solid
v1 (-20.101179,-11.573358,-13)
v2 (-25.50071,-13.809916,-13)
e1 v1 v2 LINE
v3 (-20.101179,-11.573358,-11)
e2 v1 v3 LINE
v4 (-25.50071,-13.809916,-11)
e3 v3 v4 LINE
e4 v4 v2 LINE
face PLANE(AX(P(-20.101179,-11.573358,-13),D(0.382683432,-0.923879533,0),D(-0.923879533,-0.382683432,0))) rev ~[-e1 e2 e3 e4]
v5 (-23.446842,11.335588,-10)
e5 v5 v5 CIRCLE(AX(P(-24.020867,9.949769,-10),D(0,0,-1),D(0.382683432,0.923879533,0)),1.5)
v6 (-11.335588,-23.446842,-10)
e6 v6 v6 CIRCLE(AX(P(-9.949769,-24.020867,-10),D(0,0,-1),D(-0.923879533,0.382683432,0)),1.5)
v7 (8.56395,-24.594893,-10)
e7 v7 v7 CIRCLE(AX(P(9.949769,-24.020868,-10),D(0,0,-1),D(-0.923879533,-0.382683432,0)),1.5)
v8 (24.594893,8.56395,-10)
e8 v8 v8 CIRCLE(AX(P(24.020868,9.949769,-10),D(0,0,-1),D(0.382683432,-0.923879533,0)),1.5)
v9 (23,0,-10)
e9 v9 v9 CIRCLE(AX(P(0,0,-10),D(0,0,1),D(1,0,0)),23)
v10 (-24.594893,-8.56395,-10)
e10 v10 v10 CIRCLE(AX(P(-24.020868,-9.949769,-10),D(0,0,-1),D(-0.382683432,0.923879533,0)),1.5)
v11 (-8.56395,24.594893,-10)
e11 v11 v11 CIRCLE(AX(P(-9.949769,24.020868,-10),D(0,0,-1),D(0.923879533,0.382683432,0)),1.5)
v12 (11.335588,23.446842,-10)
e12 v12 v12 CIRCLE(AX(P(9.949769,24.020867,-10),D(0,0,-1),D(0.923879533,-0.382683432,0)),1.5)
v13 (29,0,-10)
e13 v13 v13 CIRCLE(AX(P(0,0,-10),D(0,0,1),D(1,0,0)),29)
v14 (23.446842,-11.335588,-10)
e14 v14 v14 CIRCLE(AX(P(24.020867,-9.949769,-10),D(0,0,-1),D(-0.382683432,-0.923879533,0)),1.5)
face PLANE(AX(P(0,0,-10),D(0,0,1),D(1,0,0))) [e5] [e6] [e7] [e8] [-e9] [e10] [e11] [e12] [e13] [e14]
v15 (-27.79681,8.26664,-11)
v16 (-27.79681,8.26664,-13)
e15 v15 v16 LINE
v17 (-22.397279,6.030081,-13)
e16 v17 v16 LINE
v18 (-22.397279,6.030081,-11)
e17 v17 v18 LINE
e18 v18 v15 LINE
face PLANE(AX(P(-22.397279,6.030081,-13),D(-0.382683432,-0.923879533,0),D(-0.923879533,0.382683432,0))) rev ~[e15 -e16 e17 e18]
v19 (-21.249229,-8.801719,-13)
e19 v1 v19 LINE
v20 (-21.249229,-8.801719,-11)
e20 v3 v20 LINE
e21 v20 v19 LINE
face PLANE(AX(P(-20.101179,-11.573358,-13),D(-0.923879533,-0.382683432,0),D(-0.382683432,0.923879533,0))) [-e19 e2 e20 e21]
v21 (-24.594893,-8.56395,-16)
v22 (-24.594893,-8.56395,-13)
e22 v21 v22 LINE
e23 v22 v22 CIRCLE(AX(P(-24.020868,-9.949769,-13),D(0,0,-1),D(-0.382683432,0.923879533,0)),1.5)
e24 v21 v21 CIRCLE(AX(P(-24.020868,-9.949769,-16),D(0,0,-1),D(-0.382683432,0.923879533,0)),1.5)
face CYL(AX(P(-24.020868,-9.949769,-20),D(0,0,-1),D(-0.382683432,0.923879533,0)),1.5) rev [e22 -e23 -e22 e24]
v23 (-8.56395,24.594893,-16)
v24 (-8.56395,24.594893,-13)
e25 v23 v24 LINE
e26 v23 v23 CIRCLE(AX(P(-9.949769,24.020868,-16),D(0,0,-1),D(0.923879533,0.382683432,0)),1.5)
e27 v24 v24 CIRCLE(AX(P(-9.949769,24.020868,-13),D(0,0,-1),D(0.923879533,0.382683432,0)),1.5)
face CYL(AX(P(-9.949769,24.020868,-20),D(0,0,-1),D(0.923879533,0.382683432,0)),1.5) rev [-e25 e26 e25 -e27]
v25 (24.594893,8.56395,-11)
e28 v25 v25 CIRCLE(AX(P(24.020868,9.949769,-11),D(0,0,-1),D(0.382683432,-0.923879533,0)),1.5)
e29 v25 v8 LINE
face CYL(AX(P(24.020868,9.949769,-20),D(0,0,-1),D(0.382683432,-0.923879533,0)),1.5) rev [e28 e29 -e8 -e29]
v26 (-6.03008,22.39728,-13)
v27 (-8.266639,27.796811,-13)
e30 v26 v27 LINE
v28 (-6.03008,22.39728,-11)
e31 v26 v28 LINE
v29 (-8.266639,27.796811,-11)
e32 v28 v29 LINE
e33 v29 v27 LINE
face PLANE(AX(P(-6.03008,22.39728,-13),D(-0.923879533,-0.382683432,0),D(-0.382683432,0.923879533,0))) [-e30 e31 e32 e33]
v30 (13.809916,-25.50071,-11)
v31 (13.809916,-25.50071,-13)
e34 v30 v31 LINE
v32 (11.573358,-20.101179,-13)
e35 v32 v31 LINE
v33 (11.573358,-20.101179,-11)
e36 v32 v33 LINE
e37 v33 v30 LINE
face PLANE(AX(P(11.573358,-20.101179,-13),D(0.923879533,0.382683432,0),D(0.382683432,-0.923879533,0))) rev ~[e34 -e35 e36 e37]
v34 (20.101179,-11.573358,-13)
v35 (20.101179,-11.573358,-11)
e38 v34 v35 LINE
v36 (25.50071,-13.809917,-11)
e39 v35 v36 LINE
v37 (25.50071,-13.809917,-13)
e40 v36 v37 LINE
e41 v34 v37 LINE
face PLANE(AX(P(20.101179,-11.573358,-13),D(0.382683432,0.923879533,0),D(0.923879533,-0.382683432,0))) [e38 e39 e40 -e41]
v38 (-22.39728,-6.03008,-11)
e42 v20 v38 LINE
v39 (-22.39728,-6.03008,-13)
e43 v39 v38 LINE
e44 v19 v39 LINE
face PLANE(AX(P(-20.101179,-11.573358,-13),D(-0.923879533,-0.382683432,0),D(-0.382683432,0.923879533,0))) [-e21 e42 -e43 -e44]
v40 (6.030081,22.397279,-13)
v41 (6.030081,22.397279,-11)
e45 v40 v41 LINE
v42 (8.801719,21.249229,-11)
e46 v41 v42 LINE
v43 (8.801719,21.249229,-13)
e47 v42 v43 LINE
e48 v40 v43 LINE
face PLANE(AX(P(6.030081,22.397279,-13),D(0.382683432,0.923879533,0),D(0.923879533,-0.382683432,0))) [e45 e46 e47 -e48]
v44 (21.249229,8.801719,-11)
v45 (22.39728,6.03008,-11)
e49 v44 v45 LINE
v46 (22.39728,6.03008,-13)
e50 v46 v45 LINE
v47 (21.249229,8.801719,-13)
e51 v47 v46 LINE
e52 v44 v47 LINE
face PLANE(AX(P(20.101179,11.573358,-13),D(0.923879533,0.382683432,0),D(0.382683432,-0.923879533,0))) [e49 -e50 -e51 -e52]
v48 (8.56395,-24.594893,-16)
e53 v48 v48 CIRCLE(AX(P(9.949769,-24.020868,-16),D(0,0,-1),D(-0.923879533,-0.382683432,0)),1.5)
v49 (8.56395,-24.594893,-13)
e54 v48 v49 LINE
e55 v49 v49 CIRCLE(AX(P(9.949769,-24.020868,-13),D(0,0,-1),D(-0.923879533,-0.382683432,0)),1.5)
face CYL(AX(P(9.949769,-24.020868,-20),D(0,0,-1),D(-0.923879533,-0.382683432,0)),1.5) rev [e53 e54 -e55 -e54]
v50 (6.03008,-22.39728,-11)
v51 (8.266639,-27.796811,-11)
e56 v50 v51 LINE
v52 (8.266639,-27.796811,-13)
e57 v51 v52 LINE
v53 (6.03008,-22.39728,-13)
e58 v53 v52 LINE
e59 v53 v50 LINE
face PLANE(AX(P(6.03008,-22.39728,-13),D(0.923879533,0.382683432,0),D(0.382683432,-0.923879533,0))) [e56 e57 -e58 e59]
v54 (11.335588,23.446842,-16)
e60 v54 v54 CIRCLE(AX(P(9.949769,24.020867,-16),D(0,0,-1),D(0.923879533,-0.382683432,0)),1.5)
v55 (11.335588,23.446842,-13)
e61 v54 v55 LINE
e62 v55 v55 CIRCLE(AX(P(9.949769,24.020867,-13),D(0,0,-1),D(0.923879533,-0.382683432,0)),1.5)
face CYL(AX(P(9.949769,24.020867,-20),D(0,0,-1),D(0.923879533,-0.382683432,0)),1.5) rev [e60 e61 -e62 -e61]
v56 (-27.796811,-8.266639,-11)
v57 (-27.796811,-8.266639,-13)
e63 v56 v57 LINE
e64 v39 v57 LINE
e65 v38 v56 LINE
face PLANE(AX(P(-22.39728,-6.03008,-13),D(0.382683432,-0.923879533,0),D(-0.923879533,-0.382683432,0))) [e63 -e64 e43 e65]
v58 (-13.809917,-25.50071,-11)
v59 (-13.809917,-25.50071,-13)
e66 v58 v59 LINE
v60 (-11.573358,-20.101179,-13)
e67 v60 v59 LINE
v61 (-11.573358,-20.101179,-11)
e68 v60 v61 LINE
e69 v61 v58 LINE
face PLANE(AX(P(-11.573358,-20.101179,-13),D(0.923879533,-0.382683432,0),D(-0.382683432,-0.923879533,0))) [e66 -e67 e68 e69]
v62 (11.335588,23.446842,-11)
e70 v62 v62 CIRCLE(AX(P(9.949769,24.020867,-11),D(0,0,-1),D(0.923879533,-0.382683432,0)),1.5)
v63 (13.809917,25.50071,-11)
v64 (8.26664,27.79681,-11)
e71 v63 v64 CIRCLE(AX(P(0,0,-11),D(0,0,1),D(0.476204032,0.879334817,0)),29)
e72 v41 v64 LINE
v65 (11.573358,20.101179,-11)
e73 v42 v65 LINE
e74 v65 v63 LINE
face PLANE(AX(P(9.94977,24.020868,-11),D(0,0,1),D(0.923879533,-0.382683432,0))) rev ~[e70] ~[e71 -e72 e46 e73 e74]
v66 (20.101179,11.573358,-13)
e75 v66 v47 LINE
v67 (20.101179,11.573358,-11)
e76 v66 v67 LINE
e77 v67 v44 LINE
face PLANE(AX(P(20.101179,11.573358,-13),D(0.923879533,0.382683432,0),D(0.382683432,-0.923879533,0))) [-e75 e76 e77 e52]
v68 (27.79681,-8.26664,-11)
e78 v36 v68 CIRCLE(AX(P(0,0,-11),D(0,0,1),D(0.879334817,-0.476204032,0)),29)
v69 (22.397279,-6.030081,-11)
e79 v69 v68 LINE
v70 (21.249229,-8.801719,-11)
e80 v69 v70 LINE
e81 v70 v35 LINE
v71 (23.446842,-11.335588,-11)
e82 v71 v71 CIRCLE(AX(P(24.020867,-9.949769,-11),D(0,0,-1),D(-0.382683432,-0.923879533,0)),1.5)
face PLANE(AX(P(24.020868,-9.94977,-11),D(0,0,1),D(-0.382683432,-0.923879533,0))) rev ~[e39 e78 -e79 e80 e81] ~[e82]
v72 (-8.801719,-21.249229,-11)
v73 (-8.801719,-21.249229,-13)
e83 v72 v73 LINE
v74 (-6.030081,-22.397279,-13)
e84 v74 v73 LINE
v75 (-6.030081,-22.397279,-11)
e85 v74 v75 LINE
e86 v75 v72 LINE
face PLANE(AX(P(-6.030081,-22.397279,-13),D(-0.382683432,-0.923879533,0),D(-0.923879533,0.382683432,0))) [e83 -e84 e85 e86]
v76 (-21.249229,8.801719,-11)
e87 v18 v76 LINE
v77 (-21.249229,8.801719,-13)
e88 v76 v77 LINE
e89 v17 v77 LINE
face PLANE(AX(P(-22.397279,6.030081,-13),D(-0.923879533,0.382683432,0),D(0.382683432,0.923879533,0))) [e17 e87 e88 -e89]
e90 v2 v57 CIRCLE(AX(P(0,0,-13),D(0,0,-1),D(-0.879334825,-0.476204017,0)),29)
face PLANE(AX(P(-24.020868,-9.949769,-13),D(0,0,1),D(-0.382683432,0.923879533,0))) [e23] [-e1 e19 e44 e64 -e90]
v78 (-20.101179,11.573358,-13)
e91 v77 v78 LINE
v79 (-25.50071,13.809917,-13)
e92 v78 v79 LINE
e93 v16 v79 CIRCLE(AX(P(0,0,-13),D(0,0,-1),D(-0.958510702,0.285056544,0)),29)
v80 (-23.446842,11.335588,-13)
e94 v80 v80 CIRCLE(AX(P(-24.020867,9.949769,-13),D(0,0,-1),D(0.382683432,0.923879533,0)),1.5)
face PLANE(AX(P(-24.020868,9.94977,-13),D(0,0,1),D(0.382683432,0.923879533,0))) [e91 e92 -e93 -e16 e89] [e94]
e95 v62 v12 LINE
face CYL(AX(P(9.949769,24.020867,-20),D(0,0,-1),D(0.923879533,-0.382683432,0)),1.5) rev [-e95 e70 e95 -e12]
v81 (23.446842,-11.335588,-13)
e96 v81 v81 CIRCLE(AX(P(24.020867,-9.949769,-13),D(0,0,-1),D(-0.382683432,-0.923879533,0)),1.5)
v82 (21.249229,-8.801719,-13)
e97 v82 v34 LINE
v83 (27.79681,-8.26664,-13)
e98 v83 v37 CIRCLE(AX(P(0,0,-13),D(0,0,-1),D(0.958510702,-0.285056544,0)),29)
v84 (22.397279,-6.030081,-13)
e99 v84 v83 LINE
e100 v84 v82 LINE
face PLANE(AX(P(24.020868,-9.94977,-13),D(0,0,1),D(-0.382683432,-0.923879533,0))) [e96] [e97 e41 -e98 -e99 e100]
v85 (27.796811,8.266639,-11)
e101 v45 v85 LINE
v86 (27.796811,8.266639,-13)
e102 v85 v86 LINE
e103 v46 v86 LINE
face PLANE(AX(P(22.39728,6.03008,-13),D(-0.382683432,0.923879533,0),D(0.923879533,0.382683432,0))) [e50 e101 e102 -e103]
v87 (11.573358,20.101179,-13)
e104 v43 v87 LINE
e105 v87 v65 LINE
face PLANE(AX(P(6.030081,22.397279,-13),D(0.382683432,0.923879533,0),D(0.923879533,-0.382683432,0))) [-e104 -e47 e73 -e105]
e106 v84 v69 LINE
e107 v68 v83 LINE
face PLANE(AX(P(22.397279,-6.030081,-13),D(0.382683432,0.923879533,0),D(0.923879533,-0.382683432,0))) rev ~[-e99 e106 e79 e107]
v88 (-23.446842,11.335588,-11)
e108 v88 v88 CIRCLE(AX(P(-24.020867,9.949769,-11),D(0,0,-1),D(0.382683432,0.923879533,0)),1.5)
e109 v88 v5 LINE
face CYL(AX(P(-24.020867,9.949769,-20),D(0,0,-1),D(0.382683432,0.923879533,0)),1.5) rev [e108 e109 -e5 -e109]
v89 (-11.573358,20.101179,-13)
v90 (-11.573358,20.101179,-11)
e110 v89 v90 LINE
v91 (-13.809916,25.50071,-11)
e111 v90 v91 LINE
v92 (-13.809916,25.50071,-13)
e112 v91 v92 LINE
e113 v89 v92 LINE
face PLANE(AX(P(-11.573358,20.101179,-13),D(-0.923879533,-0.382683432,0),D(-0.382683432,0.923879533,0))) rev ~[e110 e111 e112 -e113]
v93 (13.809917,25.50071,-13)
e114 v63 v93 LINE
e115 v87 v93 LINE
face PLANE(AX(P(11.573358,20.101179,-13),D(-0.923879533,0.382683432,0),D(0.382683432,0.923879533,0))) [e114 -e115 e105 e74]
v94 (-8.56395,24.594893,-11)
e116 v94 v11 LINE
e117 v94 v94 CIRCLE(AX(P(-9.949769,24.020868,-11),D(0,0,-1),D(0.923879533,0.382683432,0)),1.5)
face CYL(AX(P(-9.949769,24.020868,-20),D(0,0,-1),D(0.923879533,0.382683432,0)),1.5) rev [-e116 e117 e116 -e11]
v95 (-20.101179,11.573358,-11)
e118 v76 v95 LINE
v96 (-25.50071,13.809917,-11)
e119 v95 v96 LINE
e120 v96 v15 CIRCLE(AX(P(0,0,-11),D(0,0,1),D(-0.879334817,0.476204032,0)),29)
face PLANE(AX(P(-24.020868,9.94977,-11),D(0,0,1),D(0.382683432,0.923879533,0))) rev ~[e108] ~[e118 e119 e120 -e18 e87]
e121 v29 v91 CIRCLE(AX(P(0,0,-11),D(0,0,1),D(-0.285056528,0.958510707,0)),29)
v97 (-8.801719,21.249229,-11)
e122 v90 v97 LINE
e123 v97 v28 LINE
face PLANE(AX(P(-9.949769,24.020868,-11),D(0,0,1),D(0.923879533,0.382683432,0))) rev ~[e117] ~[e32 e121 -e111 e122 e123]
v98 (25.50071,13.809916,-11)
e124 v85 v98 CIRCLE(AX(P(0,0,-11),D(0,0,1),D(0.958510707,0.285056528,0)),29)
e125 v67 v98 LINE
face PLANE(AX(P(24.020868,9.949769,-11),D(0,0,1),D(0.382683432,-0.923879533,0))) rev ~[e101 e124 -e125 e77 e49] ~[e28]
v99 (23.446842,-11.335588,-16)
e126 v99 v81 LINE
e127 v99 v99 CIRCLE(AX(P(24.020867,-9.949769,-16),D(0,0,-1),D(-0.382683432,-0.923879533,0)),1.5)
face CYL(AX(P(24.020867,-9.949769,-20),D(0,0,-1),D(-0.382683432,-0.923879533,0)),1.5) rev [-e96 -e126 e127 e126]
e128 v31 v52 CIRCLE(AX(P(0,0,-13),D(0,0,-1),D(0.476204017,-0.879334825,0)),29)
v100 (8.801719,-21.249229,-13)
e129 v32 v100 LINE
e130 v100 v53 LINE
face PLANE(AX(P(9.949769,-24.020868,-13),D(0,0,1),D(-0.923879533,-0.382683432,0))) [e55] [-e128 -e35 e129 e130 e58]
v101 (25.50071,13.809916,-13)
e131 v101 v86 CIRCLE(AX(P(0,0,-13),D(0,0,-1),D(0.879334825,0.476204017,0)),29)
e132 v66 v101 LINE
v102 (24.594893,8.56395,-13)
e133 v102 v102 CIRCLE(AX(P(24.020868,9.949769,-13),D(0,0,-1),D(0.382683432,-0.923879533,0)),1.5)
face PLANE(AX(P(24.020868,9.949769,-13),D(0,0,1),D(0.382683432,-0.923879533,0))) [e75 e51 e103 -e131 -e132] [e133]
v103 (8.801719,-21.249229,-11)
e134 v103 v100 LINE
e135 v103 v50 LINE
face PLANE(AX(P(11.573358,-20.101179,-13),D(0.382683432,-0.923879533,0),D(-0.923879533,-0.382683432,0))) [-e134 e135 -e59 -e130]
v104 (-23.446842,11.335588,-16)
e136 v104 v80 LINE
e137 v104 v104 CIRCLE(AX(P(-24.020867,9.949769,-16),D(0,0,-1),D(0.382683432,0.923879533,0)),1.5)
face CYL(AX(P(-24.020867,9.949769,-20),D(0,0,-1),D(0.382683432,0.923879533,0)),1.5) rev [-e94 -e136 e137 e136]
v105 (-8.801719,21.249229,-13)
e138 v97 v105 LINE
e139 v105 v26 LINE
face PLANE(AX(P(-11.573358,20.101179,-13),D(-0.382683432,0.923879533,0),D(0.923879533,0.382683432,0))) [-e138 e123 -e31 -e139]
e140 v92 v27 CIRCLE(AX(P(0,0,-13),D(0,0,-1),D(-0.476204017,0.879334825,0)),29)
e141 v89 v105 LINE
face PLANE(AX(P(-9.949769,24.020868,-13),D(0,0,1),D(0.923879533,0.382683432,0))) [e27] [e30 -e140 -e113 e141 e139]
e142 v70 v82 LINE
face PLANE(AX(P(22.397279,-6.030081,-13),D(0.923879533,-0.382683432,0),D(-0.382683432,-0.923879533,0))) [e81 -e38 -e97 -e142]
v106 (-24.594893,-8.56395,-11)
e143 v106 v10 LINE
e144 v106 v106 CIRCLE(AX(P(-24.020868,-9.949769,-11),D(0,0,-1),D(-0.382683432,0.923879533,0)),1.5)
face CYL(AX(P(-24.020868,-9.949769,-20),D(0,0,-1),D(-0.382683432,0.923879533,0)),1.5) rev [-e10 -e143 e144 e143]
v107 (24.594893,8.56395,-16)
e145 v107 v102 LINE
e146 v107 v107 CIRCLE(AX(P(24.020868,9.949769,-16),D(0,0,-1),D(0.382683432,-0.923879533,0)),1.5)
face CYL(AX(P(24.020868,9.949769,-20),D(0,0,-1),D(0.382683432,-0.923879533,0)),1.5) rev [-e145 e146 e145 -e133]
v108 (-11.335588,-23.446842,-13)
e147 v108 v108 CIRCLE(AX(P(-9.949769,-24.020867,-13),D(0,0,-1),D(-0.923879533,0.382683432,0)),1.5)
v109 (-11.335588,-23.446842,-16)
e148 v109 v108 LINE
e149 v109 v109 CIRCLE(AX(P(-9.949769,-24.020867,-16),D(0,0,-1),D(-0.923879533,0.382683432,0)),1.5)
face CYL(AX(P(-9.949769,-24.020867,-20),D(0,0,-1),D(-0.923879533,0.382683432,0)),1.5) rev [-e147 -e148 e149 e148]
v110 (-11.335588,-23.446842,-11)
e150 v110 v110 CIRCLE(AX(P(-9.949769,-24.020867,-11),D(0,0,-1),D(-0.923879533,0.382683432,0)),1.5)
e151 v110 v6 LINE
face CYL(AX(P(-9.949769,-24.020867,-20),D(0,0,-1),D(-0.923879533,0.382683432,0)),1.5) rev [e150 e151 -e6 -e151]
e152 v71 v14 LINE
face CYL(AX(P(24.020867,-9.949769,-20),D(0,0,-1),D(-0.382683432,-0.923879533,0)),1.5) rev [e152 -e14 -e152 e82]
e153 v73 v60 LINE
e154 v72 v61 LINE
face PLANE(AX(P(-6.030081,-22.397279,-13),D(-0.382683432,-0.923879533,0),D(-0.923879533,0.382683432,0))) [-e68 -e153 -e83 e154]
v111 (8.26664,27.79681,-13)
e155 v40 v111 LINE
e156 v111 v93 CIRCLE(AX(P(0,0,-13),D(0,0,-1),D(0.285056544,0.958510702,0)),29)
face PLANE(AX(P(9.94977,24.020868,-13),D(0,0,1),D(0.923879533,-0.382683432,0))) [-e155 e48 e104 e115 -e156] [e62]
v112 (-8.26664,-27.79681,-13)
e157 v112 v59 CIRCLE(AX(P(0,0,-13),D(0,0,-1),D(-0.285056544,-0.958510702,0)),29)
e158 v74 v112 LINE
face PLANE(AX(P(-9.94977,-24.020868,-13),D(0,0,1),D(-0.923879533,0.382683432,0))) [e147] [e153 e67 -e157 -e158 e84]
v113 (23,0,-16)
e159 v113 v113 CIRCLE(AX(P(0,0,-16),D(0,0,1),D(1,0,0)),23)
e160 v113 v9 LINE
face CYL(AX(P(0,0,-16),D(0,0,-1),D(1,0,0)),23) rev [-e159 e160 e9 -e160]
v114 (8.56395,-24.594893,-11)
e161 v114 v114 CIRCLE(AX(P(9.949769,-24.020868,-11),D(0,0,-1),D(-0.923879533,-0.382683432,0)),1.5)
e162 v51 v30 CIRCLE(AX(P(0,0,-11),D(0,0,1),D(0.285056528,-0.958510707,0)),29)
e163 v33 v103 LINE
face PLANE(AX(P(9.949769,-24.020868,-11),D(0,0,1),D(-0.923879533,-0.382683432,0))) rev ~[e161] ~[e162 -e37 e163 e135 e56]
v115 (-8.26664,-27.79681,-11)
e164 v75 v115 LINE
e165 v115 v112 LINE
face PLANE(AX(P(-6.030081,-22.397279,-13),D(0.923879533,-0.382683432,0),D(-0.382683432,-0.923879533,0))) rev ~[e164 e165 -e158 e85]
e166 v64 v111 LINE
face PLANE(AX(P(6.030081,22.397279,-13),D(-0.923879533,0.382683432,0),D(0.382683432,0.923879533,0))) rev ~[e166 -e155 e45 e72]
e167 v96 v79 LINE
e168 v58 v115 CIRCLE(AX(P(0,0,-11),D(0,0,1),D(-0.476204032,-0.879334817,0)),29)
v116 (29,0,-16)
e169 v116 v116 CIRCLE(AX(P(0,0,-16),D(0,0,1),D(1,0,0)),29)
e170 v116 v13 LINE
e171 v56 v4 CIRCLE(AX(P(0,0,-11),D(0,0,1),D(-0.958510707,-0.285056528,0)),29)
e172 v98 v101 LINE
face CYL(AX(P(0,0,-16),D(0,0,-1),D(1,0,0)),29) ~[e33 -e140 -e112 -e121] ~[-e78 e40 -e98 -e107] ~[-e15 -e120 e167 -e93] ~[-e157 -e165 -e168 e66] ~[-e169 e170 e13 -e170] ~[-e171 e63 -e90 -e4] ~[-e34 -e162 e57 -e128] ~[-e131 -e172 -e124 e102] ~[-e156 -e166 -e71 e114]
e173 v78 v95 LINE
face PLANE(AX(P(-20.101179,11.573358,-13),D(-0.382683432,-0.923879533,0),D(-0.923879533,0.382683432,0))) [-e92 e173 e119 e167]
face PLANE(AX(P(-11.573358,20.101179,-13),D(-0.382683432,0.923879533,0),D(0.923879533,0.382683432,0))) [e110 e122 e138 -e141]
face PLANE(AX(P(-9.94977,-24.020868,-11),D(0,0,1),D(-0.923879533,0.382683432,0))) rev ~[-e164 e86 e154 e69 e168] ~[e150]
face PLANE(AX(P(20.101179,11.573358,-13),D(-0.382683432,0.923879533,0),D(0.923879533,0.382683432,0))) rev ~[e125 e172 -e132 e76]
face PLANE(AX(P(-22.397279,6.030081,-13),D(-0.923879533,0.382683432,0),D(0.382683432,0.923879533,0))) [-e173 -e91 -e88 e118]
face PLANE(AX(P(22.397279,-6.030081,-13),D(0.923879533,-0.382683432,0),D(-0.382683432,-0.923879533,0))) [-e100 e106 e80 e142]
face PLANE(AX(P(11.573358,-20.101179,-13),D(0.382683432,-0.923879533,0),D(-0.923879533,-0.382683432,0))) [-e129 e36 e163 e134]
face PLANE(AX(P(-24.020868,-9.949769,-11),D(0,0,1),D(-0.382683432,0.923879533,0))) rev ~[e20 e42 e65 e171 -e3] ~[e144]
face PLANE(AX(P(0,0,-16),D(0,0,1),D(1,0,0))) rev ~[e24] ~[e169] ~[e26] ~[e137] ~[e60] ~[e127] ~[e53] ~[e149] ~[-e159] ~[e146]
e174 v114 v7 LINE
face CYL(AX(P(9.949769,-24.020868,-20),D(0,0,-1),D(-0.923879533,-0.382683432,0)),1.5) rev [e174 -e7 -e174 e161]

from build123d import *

# Parameters (mm, degrees)
BOX049_W                    = 6
BOX049_H                    = 6
BOX049_DEPTH                = 2
BOX050_W                    = 6
BOX050_H                    = 6
BOX050_DEPTH                = 2
BOX050_PLACEMENT_ANGLE      = 135
BOX051_W                    = 6
BOX051_H                    = 6
BOX051_DEPTH                = 2
BOX052_W                    = 6
BOX052_H                    = 6
BOX052_DEPTH                = 2
BOX052_PLACEMENT_ANGLE      = 225
BOX053_W                    = 6
BOX053_H                    = 6
BOX053_DEPTH                = 2
BOX054_W                    = 6
BOX054_H                    = 6
BOX054_DEPTH                = 2
BOX054_PLACEMENT_ANGLE      = 45
BOX047_W                    = 6
BOX047_H                    = 6
BOX047_DEPTH                = 2
BOX048_W                    = 6
BOX048_H                    = 6
BOX048_DEPTH                = 2
BOX048_PLACEMENT_ANGLE      = 45
COMPOUND039_PLACEMENT_ANGLE = 22.5
CYLINDER112_R               = 1.5
CYLINDER112_DEPTH           = 15
CYLINDER112_PLACEMENT_ANGLE = 45
CYLINDER113_R               = 1.5
CYLINDER113_DEPTH           = 15
CYLINDER114_R               = 1.5
CYLINDER114_DEPTH           = 15
CYLINDER114_PLACEMENT_ANGLE = 135
CYLINDER115_R               = 1.5
CYLINDER115_DEPTH           = 15
CYLINDER116_R               = 1.5
CYLINDER116_DEPTH           = 15
CYLINDER116_PLACEMENT_ANGLE = 225
CYLINDER117_R               = 1.5
CYLINDER117_DEPTH           = 15
CYLINDER118_R               = 1.5
CYLINDER118_DEPTH           = 15
CYLINDER118_PLACEMENT_ANGLE = 45
CYLINDER111_R               = 1.5
CYLINDER111_DEPTH           = 15
COMPOUND897_PLACEMENT_ANGLE = 22.5
TUBE007_R                   = 29
TUBE007_R_2                 = 23
TUBE007_DEPTH               = 6


with BuildPart() as krychle049:
    # Box049 → Box049 (new body)
    with BuildSketch(Plane(origin=(-23, -3, -13), x_dir=(0, 1, 0), z_dir=(0, 0, 1))):
        with Locations((3, 3)):
            Rectangle(BOX049_W, BOX049_H)
    extrude(amount=BOX049_DEPTH)


with BuildPart() as krychle050:
    # Box050 → Box050 (new body)
    with BuildSketch(Plane.XY):
        with Locations((3, 3)):
            Rectangle(BOX050_W, BOX050_H)
    extrude(amount=BOX050_DEPTH)


with BuildPart() as krychle050_1:
    # Box050 placement: moved
    add(krychle050.part.moved(Location((-14.142136, -18.384776, -13))).rotate(Axis((-14.142136, -18.384776, -13), (0, 0, 1)), BOX050_PLACEMENT_ANGLE))


with BuildPart() as krychle051:
    # Box051 → Box051 (new body)
    with BuildSketch(Plane(origin=(3, -23, -13), x_dir=(-1, 0, 0), z_dir=(0, 0, 1))):
        with Locations((3, 3)):
            Rectangle(BOX051_W, BOX051_H)
    extrude(amount=BOX051_DEPTH)


with BuildPart() as krychle052:
    # Box052 → Box052 (new body)
    with BuildSketch(Plane.XY):
        with Locations((3, 3)):
            Rectangle(BOX052_W, BOX052_H)
    extrude(amount=BOX052_DEPTH)


with BuildPart() as krychle052_1:
    # Box052 placement: moved
    add(krychle052.part.moved(Location((18.384776, -14.142136, -13))).rotate(Axis((18.384776, -14.142136, -13), (0, 0, 1)), BOX052_PLACEMENT_ANGLE))


with BuildPart() as krychle053:
    # Box053 → Box053 (new body)
    with BuildSketch(Plane(origin=(23, 3, -13), x_dir=(0, -1, 0), z_dir=(0, 0, 1))):
        with Locations((3, 3)):
            Rectangle(BOX053_W, BOX053_H)
    extrude(amount=BOX053_DEPTH)


with BuildPart() as krychle054:
    # Box054 → Box054 (new body)
    with BuildSketch(Plane.XY):
        with Locations((3, 3)):
            Rectangle(BOX054_W, BOX054_H)
    extrude(amount=BOX054_DEPTH)


with BuildPart() as krychle054_1:
    # Box054 placement: moved
    add(krychle054.part.moved(Location((14.142136, 18.384776, -13))).rotate(Axis((14.142136, 18.384776, -13), (0, 0, -1)), BOX054_PLACEMENT_ANGLE))


with BuildPart() as krychle047:
    # Box047 → Box047 (new body)
    with BuildSketch(Plane(origin=(-3, 23, -13), x_dir=(1, 0, 0), z_dir=(0, 0, 1))):
        with Locations((3, 3)):
            Rectangle(BOX047_W, BOX047_H)
    extrude(amount=BOX047_DEPTH)


with BuildPart() as compound039:
    # Box048 → Box048 (new body)
    with BuildSketch(Plane.XY):
        with Locations((3, 3)):
            Rectangle(BOX048_W, BOX048_H)
    extrude(amount=BOX048_DEPTH)


with BuildPart() as compound039_1:
    # Box048 placement: moved
    add(compound039.part.moved(Location((-18.384776, 14.142136, -13))).rotate(Axis((-18.384776, 14.142136, -13), (0, 0, 1)), BOX048_PLACEMENT_ANGLE))

    # Compound039: union Krychle049, Krychle050, Krychle051, Krychle052, Krychle053, Krychle054, Krychle047
    add(krychle049.part)
    add(krychle050_1.part)
    add(krychle051.part)
    add(krychle052_1.part)
    add(krychle053.part)
    add(krychle054_1.part)
    add(krychle047.part)


with BuildPart() as compound039_2:
    # Compound039 placement: moved
    add(compound039_1.part.rotate(Axis((0, 0, 0), (0, 0, 1)), COMPOUND039_PLACEMENT_ANGLE))


with BuildPart() as v_lec112:
    # Cylinder112 → Cylinder112 (new body)
    with BuildSketch(Plane.XY):
        Circle(CYLINDER112_R)
    extrude(amount=CYLINDER112_DEPTH)


with BuildPart() as v_lec112_1:
    # Cylinder112 placement: moved
    add(v_lec112.part.moved(Location((-18.384776, 18.384776, -20))).rotate(Axis((-18.384776, 18.384776, -20), (0, 0, 1)), CYLINDER112_PLACEMENT_ANGLE))


with BuildPart() as v_lec113:
    # Cylinder113 → Cylinder113 (new body)
    with BuildSketch(Plane(origin=(-26, 0, -20), x_dir=(0, 1, 0), z_dir=(0, 0, 1))):
        Circle(CYLINDER113_R)
    extrude(amount=CYLINDER113_DEPTH)


with BuildPart() as v_lec114:
    # Cylinder114 → Cylinder114 (new body)
    with BuildSketch(Plane.XY):
        Circle(CYLINDER114_R)
    extrude(amount=CYLINDER114_DEPTH)


with BuildPart() as v_lec114_1:
    # Cylinder114 placement: moved
    add(v_lec114.part.moved(Location((-18.384776, -18.384776, -20))).rotate(Axis((-18.384776, -18.384776, -20), (0, 0, 1)), CYLINDER114_PLACEMENT_ANGLE))


with BuildPart() as v_lec115:
    # Cylinder115 → Cylinder115 (new body)
    with BuildSketch(Plane(origin=(0, -26, -20), x_dir=(-1, 0, 0), z_dir=(0, 0, 1))):
        Circle(CYLINDER115_R)
    extrude(amount=CYLINDER115_DEPTH)


with BuildPart() as v_lec116:
    # Cylinder116 → Cylinder116 (new body)
    with BuildSketch(Plane.XY):
        Circle(CYLINDER116_R)
    extrude(amount=CYLINDER116_DEPTH)


with BuildPart() as v_lec116_1:
    # Cylinder116 placement: moved
    add(v_lec116.part.moved(Location((18.384776, -18.384776, -20))).rotate(Axis((18.384776, -18.384776, -20), (0, 0, 1)), CYLINDER116_PLACEMENT_ANGLE))


with BuildPart() as v_lec117:
    # Cylinder117 → Cylinder117 (new body)
    with BuildSketch(Plane(origin=(26, 0, -20), x_dir=(0, -1, 0), z_dir=(0, 0, 1))):
        Circle(CYLINDER117_R)
    extrude(amount=CYLINDER117_DEPTH)


with BuildPart() as v_lec118:
    # Cylinder118 → Cylinder118 (new body)
    with BuildSketch(Plane.XY):
        Circle(CYLINDER118_R)
    extrude(amount=CYLINDER118_DEPTH)


with BuildPart() as v_lec118_1:
    # Cylinder118 placement: moved
    add(v_lec118.part.moved(Location((18.384776, 18.384776, -20))).rotate(Axis((18.384776, 18.384776, -20), (0, 0, -1)), CYLINDER118_PLACEMENT_ANGLE))


with BuildPart() as compound897:
    # Cylinder111 → Cylinder111 (new body)
    with BuildSketch(Plane(origin=(0, 26, -20), x_dir=(1, 0, 0), z_dir=(0, 0, 1))):
        Circle(CYLINDER111_R)
    extrude(amount=CYLINDER111_DEPTH)

    # Compound897: union Válec112, Válec113, Válec114, Válec115, Válec116, Válec117, Válec118
    add(v_lec112_1.part)
    add(v_lec113.part)
    add(v_lec114_1.part)
    add(v_lec115.part)
    add(v_lec116_1.part)
    add(v_lec117.part)
    add(v_lec118_1.part)


with BuildPart() as compound897_1:
    # Compound897 placement: moved
    add(compound897.part.rotate(Axis((0, 0, 0), (0, 0, 1)), COMPOUND897_PLACEMENT_ANGLE))


with BuildPart() as cut311:
    # Tube007 → Tube007 (new body)
    with BuildSketch(Plane.XY.offset(-16)):
        Circle(TUBE007_R)
        Circle(TUBE007_R_2, mode=Mode.SUBTRACT)
    extrude(amount=TUBE007_DEPTH)

    # Cut532: cut Compound897
    add(compound897_1.part, mode=Mode.SUBTRACT)

    # Cut311: cut Compound039
    add(compound039_2.part, mode=Mode.SUBTRACT)


solid = cut311.part
